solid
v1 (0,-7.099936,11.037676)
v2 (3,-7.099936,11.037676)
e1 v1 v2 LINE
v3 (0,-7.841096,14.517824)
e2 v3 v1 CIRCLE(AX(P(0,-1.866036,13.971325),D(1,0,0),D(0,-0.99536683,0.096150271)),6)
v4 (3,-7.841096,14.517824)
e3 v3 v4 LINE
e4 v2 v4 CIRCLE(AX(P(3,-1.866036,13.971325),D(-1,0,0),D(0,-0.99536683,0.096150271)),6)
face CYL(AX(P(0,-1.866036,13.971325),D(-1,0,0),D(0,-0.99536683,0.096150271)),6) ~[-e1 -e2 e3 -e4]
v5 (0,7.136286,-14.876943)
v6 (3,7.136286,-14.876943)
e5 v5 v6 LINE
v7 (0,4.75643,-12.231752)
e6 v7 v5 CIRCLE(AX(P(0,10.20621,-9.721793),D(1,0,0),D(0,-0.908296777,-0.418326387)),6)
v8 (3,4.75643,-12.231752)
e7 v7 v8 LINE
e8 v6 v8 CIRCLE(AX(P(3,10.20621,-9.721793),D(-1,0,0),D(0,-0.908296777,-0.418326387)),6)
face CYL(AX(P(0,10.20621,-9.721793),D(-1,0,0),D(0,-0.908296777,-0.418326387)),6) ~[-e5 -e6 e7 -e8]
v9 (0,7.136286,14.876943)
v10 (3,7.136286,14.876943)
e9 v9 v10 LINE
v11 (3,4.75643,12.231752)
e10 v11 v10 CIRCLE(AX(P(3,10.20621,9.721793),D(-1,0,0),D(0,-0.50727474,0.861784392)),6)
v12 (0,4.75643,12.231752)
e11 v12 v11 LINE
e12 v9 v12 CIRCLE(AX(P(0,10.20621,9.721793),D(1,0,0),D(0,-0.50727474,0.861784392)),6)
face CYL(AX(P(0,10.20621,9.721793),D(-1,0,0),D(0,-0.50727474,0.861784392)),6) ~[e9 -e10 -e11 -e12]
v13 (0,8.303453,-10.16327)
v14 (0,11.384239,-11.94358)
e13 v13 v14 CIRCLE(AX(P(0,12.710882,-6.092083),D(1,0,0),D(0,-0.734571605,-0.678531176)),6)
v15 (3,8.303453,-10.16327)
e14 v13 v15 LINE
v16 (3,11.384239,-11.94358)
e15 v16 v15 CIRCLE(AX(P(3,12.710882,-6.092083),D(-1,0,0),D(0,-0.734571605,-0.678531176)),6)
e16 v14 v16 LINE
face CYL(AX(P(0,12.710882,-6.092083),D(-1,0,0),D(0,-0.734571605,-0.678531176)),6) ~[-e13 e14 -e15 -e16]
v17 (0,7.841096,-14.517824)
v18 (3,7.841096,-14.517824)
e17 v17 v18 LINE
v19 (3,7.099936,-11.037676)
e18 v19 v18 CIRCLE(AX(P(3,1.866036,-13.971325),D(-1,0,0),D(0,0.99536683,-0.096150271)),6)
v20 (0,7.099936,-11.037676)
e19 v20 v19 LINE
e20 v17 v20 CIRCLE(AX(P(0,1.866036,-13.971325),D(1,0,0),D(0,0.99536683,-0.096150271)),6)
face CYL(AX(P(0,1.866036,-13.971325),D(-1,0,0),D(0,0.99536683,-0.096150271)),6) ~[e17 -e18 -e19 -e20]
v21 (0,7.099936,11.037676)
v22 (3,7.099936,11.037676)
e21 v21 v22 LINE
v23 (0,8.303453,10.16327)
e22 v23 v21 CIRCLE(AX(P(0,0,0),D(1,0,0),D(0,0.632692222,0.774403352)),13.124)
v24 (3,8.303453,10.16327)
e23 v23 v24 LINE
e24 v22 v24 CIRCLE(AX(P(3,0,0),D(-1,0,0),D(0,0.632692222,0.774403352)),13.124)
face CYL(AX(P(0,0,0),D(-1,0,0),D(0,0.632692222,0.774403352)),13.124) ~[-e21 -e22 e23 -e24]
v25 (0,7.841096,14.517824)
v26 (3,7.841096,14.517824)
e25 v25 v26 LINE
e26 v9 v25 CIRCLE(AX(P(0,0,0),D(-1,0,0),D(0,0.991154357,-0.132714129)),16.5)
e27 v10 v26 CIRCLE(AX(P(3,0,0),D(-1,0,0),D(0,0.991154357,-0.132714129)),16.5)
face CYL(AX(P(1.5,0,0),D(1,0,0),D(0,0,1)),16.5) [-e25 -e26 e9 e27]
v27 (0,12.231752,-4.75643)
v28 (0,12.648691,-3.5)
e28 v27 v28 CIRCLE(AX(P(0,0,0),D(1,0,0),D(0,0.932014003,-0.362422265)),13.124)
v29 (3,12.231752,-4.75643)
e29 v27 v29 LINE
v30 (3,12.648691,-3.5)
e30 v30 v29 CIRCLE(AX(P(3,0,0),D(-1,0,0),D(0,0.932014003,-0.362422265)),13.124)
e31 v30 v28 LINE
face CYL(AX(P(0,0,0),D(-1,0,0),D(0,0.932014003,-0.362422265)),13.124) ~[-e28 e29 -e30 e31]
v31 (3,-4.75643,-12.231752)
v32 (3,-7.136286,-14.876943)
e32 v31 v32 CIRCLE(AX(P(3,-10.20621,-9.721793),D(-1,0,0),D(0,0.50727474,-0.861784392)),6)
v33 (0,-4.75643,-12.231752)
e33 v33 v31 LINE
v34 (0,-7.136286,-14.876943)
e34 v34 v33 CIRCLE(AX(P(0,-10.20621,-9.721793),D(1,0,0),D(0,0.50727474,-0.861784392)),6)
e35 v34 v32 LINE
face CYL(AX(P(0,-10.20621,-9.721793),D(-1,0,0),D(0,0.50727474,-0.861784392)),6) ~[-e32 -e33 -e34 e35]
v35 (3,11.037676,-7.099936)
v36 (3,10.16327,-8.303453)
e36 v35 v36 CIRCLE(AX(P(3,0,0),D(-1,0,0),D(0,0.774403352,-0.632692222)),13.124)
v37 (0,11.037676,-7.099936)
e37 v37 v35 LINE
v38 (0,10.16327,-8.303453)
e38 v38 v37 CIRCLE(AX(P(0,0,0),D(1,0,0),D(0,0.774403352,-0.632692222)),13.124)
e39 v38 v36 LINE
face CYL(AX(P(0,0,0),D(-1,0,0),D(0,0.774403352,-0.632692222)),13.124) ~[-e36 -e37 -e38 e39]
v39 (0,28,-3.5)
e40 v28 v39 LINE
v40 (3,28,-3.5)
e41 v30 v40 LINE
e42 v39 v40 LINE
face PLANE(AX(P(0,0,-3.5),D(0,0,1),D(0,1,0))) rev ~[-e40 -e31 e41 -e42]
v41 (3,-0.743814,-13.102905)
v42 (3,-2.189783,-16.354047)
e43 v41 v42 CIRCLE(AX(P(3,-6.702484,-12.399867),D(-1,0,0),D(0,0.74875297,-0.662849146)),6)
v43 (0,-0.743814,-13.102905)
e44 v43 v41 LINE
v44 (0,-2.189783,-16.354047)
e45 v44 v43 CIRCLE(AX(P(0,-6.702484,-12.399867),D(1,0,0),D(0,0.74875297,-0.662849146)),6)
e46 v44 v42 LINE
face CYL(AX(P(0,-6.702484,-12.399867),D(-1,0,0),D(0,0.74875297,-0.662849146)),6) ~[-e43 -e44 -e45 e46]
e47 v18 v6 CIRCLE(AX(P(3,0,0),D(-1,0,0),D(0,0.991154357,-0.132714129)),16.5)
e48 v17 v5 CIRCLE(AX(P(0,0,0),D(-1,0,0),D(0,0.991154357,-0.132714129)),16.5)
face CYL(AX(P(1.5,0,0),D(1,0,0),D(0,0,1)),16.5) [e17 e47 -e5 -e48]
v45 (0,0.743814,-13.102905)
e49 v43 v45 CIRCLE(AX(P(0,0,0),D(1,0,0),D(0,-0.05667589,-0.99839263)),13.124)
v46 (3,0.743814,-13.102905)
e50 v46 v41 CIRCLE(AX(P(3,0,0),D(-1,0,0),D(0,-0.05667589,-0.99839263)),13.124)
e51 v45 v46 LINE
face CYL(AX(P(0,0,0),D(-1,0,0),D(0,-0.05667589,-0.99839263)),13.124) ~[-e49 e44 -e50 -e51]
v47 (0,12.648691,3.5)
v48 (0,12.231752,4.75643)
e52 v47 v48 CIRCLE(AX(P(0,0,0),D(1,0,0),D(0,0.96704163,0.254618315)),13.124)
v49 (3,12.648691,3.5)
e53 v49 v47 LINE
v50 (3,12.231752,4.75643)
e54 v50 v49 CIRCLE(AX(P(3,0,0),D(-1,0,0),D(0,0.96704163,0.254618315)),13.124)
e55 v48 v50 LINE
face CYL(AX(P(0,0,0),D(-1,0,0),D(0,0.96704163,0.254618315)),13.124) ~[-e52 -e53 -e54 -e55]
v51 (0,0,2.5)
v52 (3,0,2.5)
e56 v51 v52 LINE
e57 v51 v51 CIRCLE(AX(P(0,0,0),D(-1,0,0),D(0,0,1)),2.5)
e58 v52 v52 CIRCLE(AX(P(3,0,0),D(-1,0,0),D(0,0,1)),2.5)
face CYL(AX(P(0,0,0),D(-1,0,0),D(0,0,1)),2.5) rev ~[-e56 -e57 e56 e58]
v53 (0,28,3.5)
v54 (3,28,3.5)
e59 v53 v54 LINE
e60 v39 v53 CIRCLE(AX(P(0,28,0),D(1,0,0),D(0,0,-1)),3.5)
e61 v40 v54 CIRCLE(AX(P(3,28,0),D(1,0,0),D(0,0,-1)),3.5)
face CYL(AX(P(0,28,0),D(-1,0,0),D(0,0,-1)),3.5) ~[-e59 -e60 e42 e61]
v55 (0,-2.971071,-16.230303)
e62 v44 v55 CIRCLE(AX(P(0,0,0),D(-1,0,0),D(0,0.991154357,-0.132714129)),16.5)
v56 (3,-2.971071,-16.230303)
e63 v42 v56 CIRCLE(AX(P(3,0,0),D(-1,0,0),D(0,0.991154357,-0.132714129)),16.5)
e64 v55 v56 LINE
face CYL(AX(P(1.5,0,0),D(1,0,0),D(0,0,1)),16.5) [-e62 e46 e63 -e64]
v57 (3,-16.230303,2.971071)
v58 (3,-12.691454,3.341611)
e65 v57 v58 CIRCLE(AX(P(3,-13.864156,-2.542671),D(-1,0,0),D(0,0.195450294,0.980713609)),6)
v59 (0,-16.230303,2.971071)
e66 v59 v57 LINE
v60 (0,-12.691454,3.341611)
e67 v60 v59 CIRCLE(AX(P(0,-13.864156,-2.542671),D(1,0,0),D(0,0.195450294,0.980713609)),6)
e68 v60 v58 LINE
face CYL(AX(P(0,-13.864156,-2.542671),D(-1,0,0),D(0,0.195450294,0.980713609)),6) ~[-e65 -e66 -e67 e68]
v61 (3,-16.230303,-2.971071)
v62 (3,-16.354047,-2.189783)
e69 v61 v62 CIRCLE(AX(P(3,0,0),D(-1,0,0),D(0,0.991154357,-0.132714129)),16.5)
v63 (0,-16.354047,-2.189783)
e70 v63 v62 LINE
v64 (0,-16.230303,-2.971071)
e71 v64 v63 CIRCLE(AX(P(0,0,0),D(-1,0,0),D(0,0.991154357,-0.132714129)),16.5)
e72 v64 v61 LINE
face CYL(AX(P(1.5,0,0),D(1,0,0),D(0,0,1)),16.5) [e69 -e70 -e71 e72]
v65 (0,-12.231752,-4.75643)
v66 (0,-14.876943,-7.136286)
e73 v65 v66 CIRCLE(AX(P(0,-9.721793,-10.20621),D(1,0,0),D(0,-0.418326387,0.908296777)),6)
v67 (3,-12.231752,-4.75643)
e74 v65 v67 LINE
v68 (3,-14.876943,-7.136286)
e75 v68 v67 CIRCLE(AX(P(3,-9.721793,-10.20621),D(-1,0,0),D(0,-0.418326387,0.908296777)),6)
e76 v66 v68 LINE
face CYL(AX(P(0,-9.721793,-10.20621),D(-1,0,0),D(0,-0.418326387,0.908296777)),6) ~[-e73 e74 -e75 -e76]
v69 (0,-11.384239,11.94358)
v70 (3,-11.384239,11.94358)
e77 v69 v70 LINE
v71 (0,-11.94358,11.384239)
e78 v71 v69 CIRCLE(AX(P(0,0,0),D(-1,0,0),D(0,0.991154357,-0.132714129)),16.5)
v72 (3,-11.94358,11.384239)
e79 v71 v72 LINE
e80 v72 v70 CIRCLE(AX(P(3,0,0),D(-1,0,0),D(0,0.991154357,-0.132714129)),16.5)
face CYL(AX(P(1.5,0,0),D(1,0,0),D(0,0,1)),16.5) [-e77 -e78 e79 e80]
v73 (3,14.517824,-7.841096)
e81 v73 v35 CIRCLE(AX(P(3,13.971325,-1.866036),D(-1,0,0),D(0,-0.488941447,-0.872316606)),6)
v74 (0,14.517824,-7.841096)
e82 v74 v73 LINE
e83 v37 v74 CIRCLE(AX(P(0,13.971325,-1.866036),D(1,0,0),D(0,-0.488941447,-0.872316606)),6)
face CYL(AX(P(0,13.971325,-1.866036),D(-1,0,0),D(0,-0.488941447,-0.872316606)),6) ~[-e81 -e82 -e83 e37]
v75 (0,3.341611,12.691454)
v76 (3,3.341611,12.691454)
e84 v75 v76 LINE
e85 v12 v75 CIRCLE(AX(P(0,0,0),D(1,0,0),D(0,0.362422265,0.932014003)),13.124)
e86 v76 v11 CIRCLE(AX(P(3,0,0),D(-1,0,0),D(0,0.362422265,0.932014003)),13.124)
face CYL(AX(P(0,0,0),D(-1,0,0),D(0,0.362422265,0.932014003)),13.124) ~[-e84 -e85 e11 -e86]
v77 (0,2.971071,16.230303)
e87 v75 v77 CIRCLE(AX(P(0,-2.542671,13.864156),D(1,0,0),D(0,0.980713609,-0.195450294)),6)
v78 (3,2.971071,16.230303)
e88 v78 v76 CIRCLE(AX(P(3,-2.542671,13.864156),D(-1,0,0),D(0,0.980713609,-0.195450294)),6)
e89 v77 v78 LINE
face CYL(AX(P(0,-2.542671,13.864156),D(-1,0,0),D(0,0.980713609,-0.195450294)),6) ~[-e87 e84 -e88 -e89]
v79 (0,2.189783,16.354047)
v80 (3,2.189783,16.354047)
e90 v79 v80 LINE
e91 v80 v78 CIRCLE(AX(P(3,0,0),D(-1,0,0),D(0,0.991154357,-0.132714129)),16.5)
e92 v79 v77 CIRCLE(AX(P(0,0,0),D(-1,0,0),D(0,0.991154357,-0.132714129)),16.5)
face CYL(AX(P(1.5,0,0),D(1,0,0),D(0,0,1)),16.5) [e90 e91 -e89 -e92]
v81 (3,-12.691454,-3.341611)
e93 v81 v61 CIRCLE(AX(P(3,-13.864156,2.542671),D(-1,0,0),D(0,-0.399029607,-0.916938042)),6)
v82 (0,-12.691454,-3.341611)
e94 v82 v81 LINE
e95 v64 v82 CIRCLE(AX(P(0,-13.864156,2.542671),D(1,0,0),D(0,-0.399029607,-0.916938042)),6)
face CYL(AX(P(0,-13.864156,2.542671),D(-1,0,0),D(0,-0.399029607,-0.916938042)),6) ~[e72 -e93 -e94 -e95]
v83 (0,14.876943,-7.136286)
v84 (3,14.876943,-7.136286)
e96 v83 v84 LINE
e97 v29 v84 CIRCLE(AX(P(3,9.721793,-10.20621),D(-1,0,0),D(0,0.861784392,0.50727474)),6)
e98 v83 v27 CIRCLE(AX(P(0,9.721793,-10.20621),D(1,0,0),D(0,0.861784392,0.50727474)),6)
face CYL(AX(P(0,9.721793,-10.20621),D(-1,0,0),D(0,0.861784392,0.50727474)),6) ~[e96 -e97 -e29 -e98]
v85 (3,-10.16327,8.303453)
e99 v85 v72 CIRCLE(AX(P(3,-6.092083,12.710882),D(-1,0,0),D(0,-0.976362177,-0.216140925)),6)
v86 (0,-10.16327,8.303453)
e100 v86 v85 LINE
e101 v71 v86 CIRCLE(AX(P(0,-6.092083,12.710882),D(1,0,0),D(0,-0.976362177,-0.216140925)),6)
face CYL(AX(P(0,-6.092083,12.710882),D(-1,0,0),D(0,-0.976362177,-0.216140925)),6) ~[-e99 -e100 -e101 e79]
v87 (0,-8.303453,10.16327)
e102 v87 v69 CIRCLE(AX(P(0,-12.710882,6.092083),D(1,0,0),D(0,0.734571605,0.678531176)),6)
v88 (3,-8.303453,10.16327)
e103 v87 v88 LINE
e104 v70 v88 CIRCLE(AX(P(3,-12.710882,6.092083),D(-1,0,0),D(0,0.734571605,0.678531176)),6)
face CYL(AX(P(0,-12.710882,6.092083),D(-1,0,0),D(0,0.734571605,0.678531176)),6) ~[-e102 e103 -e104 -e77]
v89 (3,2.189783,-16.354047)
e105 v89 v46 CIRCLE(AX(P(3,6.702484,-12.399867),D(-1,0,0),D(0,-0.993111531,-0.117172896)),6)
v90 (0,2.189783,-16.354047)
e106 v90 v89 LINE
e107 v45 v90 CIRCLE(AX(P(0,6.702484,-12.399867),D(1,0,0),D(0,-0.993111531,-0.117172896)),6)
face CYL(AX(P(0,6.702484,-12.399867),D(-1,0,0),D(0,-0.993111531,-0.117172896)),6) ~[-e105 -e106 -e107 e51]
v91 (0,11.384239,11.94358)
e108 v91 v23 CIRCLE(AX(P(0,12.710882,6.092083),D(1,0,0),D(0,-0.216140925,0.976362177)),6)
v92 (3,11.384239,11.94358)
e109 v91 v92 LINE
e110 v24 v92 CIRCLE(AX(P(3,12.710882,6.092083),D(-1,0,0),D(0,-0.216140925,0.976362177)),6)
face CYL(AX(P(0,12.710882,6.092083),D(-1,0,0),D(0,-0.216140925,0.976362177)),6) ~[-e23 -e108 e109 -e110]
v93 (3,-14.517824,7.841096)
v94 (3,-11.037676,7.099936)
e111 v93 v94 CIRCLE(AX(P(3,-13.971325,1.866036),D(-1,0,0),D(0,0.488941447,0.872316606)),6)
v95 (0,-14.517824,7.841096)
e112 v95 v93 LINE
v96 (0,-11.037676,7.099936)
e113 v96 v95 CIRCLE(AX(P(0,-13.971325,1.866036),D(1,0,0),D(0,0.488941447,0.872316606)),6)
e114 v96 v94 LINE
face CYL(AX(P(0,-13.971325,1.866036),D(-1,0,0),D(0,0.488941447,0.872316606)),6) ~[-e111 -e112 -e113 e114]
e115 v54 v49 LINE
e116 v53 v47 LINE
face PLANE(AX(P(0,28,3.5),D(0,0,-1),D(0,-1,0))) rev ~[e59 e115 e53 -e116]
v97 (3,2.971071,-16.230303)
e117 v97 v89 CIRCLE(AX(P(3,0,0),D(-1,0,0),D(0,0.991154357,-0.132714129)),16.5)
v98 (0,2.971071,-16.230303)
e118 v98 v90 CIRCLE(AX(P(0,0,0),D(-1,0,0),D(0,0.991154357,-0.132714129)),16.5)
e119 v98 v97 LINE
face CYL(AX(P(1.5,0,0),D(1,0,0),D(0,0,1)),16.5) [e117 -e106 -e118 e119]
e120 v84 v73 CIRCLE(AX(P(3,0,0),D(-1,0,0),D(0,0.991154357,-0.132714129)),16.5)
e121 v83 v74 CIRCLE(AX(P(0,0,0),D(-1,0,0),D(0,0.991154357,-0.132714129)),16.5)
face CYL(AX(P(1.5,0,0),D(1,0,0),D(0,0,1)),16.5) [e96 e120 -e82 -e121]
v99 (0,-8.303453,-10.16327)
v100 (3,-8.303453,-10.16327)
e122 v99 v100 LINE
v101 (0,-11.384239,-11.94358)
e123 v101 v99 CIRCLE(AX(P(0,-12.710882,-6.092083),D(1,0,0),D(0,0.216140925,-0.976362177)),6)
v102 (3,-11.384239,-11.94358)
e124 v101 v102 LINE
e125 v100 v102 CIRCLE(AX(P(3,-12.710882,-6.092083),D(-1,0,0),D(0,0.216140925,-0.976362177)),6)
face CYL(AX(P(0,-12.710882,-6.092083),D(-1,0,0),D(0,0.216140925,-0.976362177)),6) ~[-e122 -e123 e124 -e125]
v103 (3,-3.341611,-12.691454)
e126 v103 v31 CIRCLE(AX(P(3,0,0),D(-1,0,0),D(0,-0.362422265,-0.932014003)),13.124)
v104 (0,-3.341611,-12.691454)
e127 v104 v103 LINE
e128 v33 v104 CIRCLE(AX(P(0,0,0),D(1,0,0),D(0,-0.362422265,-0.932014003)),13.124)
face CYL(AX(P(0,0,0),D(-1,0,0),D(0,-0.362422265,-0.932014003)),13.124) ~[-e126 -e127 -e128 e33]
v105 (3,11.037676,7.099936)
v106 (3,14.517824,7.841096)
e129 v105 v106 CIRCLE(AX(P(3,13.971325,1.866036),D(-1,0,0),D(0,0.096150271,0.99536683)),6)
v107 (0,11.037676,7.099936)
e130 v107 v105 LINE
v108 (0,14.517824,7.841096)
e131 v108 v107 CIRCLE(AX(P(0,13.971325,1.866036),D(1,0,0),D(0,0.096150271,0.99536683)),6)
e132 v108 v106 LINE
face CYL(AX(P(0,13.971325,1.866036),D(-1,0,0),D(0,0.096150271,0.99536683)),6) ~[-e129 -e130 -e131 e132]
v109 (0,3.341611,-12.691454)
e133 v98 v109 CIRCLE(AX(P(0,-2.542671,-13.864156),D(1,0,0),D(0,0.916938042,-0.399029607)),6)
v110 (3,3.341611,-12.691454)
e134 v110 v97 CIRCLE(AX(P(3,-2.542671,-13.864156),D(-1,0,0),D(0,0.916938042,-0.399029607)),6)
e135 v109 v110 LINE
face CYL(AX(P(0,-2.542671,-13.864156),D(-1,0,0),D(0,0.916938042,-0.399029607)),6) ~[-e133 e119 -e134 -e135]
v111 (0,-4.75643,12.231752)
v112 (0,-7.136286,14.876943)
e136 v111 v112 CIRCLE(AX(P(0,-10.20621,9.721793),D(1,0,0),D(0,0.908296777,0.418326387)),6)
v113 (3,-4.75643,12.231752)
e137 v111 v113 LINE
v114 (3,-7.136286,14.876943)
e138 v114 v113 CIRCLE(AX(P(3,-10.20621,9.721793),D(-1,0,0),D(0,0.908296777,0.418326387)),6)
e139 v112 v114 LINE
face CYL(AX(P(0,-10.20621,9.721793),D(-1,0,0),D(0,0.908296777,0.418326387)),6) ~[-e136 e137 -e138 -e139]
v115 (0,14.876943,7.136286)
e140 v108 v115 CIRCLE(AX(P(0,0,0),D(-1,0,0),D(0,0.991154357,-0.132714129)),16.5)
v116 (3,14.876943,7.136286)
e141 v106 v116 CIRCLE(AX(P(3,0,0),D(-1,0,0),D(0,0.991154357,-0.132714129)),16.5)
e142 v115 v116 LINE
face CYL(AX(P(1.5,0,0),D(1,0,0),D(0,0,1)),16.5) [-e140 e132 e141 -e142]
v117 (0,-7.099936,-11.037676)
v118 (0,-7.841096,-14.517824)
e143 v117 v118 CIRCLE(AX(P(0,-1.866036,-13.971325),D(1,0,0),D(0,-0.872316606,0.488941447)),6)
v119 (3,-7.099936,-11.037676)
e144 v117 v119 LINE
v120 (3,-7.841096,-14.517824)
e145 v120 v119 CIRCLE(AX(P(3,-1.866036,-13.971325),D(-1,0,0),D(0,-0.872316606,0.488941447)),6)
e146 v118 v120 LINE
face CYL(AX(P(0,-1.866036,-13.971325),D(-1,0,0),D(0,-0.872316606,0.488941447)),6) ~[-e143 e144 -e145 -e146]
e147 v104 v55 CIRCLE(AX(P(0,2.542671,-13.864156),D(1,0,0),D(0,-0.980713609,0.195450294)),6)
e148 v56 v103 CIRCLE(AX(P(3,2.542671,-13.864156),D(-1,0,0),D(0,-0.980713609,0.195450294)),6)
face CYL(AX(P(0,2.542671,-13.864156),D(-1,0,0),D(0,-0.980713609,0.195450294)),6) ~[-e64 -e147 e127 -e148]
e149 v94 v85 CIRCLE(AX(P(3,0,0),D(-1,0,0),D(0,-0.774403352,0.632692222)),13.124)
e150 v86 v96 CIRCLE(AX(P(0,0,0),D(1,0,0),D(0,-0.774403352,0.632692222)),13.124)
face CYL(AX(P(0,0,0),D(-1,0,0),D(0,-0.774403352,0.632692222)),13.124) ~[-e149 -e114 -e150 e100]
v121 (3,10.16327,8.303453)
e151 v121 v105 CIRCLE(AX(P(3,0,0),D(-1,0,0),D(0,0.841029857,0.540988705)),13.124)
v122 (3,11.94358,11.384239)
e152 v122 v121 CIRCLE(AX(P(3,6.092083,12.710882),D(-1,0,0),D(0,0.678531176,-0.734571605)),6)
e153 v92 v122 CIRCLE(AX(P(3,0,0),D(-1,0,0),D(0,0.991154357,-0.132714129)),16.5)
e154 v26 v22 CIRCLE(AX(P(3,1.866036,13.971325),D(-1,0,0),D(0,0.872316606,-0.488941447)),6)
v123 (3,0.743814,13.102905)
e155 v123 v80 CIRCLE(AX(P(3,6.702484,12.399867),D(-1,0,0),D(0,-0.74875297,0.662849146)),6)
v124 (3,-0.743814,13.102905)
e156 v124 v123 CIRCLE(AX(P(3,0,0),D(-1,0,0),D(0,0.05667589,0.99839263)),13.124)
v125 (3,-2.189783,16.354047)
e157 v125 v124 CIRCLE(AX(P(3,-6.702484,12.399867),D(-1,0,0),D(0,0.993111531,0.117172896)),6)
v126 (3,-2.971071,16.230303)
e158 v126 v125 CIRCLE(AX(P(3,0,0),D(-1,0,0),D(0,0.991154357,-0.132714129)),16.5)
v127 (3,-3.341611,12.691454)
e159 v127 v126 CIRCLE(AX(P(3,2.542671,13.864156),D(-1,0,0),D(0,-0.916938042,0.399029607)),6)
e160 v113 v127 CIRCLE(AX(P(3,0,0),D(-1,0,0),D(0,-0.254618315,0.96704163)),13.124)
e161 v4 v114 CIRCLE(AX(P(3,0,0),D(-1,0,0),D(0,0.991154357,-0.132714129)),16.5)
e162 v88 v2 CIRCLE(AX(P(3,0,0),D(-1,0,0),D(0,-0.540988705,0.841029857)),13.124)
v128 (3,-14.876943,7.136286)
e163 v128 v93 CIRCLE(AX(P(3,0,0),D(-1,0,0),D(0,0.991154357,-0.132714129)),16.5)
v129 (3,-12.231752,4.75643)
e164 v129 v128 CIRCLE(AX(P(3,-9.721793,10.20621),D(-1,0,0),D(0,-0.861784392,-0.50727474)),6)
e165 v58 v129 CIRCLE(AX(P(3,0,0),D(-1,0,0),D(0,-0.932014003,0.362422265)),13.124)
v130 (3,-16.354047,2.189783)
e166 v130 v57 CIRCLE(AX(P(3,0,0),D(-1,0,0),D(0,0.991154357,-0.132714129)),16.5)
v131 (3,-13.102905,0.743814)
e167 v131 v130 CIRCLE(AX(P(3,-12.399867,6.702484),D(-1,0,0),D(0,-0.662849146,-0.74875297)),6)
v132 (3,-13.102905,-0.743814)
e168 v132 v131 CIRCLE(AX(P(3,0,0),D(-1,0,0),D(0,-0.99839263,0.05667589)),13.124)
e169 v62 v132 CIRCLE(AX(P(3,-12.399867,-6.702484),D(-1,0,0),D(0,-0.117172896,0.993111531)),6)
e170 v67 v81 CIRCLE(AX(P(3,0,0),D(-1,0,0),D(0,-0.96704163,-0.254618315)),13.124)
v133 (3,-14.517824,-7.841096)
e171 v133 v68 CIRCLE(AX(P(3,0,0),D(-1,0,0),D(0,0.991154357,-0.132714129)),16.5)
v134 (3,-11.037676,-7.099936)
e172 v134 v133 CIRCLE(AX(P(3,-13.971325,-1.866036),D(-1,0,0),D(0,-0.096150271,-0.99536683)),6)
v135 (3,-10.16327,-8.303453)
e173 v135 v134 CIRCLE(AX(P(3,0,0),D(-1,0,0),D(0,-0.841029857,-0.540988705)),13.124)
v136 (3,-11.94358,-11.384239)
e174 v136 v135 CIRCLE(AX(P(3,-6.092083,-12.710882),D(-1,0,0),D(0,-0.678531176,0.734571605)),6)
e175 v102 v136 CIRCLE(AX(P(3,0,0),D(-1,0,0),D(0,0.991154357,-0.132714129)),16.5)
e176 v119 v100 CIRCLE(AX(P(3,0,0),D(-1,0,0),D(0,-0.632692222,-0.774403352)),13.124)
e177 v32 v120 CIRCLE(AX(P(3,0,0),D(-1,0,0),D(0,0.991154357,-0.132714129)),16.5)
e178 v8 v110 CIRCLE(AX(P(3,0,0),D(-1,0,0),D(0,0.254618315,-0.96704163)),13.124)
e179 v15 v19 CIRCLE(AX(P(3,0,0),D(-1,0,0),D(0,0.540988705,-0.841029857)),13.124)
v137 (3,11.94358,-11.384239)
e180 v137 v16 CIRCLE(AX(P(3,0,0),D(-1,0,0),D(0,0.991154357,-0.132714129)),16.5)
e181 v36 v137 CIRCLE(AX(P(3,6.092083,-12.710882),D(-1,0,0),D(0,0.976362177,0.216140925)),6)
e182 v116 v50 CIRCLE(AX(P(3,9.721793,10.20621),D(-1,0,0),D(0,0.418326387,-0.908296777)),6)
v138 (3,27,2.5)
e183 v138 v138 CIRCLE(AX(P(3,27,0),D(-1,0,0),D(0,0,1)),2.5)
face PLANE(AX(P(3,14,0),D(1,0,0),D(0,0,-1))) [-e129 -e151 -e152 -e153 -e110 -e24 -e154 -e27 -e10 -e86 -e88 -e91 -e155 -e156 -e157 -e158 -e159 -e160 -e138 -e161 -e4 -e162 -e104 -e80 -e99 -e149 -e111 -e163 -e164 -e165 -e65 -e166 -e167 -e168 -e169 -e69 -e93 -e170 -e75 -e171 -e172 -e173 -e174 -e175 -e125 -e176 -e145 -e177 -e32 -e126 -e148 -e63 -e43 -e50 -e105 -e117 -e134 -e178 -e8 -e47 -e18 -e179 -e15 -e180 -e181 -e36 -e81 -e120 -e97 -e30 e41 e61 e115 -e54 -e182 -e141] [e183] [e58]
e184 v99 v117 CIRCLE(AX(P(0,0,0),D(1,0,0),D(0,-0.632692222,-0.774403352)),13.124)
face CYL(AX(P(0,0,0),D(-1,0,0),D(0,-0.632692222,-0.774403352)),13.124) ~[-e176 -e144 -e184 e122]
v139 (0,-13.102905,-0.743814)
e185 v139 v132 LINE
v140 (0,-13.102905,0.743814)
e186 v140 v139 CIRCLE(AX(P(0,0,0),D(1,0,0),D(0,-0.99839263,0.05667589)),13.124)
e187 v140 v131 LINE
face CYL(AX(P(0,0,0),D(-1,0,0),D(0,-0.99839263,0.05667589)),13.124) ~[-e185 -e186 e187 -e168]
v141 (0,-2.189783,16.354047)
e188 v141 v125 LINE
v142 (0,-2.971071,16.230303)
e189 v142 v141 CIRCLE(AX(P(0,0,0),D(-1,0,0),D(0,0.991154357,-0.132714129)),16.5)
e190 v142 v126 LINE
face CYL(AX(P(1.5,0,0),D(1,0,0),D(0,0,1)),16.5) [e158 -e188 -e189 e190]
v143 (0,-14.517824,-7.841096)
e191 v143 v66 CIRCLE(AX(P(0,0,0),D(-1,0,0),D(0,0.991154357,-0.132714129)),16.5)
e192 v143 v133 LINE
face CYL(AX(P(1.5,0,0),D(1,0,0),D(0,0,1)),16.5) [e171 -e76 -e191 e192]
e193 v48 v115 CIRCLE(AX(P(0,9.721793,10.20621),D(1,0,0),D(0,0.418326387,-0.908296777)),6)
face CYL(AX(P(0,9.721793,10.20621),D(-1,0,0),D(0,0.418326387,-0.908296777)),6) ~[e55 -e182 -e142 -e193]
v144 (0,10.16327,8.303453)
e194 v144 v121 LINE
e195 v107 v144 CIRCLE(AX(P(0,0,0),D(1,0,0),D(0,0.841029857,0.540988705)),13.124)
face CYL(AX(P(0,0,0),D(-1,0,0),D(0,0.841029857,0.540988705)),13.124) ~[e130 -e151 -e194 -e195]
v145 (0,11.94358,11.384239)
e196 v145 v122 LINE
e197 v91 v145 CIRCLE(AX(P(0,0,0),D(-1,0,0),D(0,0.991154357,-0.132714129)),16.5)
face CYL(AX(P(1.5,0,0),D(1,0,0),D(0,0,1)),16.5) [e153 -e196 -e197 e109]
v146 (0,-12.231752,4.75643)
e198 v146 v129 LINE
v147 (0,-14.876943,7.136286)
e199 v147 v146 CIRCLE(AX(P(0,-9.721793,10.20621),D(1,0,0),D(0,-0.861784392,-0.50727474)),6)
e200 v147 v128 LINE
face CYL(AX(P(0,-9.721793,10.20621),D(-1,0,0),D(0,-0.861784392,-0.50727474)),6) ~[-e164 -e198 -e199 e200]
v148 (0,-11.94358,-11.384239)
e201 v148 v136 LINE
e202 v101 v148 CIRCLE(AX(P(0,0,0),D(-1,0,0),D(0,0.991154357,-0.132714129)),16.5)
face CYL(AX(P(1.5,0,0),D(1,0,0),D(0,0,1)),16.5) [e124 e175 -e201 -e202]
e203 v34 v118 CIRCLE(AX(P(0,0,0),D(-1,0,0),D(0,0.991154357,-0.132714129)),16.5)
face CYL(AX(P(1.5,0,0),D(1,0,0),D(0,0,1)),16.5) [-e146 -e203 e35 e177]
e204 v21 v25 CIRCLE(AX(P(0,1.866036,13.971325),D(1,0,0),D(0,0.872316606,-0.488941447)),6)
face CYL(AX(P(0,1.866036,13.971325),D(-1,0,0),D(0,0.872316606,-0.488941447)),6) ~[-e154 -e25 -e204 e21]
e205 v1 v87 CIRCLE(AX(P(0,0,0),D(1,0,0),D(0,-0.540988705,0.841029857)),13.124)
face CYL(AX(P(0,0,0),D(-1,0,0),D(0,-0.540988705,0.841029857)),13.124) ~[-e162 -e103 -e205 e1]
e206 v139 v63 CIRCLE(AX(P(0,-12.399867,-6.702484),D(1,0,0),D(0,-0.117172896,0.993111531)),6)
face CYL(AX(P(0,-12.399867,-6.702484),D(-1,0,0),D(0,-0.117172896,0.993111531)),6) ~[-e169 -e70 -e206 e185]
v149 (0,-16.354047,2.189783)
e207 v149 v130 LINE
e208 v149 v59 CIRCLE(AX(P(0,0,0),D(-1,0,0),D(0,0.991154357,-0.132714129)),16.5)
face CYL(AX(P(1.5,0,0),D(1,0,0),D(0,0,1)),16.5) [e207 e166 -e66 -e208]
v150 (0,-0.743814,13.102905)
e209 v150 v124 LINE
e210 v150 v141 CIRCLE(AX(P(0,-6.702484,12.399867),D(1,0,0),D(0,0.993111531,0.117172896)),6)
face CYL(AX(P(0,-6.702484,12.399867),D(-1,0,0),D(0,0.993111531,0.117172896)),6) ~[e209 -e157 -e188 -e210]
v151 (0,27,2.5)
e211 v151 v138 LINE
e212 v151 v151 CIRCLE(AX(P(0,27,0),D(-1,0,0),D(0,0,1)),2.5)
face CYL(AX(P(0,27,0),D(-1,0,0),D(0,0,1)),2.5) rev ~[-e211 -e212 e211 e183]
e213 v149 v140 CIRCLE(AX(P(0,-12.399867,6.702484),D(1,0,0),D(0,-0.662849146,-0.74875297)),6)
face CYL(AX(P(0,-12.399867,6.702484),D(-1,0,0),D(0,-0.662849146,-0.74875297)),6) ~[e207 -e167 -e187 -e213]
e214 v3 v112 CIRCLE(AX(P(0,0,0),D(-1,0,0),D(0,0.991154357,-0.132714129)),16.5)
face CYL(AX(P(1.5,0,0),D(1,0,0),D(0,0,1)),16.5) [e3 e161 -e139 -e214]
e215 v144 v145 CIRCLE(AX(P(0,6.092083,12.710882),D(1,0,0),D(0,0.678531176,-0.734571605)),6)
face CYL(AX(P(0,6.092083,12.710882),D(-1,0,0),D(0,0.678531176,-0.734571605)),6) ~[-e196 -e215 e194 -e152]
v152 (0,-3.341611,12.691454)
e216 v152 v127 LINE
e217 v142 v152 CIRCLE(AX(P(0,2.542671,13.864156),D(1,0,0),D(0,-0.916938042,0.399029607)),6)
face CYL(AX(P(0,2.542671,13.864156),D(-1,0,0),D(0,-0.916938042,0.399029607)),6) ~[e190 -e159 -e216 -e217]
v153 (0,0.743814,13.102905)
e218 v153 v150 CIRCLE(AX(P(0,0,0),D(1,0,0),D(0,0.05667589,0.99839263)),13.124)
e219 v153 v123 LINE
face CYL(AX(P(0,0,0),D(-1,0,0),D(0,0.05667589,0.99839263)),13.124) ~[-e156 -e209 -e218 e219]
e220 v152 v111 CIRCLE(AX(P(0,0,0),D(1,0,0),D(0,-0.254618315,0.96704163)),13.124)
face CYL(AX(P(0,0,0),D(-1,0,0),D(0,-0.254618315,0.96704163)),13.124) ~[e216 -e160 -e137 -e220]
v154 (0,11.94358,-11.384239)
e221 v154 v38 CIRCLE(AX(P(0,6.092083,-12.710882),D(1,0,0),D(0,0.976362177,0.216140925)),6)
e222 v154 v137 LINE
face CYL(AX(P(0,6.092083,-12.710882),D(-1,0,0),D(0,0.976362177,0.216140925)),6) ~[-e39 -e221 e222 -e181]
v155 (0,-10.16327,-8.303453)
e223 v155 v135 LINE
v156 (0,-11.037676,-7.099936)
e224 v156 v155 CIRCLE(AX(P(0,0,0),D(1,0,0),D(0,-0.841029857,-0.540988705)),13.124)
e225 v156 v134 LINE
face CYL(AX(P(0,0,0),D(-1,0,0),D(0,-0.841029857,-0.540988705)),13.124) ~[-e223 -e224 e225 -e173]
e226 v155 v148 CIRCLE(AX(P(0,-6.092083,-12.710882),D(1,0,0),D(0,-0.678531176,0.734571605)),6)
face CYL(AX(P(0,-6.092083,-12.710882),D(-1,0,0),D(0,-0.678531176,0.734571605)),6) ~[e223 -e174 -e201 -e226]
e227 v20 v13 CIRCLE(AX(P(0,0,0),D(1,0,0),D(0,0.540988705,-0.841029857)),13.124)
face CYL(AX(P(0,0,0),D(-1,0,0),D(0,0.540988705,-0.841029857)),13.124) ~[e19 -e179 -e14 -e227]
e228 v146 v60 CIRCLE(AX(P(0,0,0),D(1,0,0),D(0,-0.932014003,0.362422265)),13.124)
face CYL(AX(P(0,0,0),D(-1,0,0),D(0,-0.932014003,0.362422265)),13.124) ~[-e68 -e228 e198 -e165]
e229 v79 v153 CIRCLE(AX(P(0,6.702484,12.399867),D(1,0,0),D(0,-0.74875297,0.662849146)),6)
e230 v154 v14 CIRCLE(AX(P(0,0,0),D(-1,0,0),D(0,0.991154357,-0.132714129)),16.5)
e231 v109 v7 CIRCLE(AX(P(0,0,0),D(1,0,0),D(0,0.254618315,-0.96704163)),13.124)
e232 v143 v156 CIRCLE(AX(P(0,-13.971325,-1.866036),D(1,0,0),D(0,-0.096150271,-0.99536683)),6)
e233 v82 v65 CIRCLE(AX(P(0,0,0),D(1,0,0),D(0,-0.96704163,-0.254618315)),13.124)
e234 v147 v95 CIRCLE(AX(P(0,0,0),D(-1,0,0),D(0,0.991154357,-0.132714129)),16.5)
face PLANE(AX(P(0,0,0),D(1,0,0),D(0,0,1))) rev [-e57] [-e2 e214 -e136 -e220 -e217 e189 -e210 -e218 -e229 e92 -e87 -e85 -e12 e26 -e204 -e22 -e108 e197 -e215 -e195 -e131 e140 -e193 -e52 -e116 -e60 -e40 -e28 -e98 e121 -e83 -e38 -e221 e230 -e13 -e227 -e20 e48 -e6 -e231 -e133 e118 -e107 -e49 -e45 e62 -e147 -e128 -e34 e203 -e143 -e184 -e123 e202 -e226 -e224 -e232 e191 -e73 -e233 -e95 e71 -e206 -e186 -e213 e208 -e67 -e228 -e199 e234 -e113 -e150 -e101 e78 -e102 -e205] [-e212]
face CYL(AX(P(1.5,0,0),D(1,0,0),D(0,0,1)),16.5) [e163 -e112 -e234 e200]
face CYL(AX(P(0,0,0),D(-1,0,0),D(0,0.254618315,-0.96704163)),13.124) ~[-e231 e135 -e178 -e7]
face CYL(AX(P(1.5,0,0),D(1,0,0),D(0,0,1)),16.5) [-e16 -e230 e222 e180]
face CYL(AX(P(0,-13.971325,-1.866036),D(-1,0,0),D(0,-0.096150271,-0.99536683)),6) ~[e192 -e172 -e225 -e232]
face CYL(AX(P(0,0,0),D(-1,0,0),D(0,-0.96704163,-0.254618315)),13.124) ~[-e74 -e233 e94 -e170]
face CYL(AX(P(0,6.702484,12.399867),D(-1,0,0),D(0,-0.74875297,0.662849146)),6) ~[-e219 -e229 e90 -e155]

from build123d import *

# Parameters (mm, degrees)
BASPROSKE_W         = 3
BASPROSKE_H         = 16.5
TOOTHCUT_DEPTH      = 24.526580712
TEETHCUTS_COUNT     = 20
TEETHCUTS_ANGLE     = 342
EXTRUDE_3_DEPTH     = 3
SKETCH_3_R          = 2.5
CUT_EXTRUDE_2_DEPTH = 36.618883333


with BuildPart() as part:
    # BasProSke → Base-Revolve (revolve)
    with BuildSketch(Plane(origin=(0, 0, 0), x_dir=(1, 0, 0), z_dir=(0, 1, 0)), mode=Mode.PRIVATE) as base_revolve_sk:
        with Locations((1.5, 8.25)):
            Rectangle(BASPROSKE_W, BASPROSKE_H)
    revolve(base_revolve_sk.sketch.rotate(Axis((-10, 0, 0), (1, 0, 0)), 180), axis=Axis((-10, 0, 0), (1, 0, 0)))

    # TooCutSke → ToothCut (cut, through all)
    with BuildSketch(Plane(origin=(0, 0, 0), x_dir=(0, 0, -1), z_dir=(1, 0, 0))):
        with BuildLine():
            ThreePointArc((0.74381438, 13.102904875), (0, 13.124), (-0.74381438, 13.102904875))
            ThreePointArc((-0.74381438, 13.102904875), (-1.226473103, 14.852072512), (-2.209965745, 16.376962373))
            ThreePointArc((-2.209965745, 16.376962373), (0, 16.5254), (2.209965745, 16.376962373))
            ThreePointArc((2.209965745, 16.376962373), (1.226473103, 14.852072512), (0.74381438, 13.102904875))
        make_face()
    toothcut = extrude(amount=TOOTHCUT_DEPTH, mode=Mode.SUBTRACT)

    # TeethCuts: ToothCut ×20 about axis
    teethcuts_axis = Axis((-10, 0, 0), (1, 0, 0))
    for i in range(1, TEETHCUTS_COUNT):
        add(toothcut.rotate(teethcuts_axis, i * TEETHCUTS_ANGLE / (TEETHCUTS_COUNT - 1)), mode=Mode.SUBTRACT)

    # 草图2 → 凸台-拉伸3 (add)
    with BuildSketch(Plane.ZY):
        with BuildLine():
            Line((-3.5, 0), (-3.5, 28))
            ThreePointArc((-3.5, 28), (0, 31.5), (3.5, 28))
            Line((3.5, 28), (3.5, 0))
            ThreePointArc((3.5, 0), (0, -3.5), (-3.5, 0))
        make_face()
    extrude(amount=-EXTRUDE_3_DEPTH)

    # 草图3 → 切除-拉伸2 (cut, through all)
    with BuildSketch(Plane.ZY):
        Circle(SKETCH_3_R)
        with Locations((0, 27)):
            Circle(SKETCH_3_R)
    extrude(amount=-CUT_EXTRUDE_2_DEPTH, mode=Mode.SUBTRACT)


solid = part.part
